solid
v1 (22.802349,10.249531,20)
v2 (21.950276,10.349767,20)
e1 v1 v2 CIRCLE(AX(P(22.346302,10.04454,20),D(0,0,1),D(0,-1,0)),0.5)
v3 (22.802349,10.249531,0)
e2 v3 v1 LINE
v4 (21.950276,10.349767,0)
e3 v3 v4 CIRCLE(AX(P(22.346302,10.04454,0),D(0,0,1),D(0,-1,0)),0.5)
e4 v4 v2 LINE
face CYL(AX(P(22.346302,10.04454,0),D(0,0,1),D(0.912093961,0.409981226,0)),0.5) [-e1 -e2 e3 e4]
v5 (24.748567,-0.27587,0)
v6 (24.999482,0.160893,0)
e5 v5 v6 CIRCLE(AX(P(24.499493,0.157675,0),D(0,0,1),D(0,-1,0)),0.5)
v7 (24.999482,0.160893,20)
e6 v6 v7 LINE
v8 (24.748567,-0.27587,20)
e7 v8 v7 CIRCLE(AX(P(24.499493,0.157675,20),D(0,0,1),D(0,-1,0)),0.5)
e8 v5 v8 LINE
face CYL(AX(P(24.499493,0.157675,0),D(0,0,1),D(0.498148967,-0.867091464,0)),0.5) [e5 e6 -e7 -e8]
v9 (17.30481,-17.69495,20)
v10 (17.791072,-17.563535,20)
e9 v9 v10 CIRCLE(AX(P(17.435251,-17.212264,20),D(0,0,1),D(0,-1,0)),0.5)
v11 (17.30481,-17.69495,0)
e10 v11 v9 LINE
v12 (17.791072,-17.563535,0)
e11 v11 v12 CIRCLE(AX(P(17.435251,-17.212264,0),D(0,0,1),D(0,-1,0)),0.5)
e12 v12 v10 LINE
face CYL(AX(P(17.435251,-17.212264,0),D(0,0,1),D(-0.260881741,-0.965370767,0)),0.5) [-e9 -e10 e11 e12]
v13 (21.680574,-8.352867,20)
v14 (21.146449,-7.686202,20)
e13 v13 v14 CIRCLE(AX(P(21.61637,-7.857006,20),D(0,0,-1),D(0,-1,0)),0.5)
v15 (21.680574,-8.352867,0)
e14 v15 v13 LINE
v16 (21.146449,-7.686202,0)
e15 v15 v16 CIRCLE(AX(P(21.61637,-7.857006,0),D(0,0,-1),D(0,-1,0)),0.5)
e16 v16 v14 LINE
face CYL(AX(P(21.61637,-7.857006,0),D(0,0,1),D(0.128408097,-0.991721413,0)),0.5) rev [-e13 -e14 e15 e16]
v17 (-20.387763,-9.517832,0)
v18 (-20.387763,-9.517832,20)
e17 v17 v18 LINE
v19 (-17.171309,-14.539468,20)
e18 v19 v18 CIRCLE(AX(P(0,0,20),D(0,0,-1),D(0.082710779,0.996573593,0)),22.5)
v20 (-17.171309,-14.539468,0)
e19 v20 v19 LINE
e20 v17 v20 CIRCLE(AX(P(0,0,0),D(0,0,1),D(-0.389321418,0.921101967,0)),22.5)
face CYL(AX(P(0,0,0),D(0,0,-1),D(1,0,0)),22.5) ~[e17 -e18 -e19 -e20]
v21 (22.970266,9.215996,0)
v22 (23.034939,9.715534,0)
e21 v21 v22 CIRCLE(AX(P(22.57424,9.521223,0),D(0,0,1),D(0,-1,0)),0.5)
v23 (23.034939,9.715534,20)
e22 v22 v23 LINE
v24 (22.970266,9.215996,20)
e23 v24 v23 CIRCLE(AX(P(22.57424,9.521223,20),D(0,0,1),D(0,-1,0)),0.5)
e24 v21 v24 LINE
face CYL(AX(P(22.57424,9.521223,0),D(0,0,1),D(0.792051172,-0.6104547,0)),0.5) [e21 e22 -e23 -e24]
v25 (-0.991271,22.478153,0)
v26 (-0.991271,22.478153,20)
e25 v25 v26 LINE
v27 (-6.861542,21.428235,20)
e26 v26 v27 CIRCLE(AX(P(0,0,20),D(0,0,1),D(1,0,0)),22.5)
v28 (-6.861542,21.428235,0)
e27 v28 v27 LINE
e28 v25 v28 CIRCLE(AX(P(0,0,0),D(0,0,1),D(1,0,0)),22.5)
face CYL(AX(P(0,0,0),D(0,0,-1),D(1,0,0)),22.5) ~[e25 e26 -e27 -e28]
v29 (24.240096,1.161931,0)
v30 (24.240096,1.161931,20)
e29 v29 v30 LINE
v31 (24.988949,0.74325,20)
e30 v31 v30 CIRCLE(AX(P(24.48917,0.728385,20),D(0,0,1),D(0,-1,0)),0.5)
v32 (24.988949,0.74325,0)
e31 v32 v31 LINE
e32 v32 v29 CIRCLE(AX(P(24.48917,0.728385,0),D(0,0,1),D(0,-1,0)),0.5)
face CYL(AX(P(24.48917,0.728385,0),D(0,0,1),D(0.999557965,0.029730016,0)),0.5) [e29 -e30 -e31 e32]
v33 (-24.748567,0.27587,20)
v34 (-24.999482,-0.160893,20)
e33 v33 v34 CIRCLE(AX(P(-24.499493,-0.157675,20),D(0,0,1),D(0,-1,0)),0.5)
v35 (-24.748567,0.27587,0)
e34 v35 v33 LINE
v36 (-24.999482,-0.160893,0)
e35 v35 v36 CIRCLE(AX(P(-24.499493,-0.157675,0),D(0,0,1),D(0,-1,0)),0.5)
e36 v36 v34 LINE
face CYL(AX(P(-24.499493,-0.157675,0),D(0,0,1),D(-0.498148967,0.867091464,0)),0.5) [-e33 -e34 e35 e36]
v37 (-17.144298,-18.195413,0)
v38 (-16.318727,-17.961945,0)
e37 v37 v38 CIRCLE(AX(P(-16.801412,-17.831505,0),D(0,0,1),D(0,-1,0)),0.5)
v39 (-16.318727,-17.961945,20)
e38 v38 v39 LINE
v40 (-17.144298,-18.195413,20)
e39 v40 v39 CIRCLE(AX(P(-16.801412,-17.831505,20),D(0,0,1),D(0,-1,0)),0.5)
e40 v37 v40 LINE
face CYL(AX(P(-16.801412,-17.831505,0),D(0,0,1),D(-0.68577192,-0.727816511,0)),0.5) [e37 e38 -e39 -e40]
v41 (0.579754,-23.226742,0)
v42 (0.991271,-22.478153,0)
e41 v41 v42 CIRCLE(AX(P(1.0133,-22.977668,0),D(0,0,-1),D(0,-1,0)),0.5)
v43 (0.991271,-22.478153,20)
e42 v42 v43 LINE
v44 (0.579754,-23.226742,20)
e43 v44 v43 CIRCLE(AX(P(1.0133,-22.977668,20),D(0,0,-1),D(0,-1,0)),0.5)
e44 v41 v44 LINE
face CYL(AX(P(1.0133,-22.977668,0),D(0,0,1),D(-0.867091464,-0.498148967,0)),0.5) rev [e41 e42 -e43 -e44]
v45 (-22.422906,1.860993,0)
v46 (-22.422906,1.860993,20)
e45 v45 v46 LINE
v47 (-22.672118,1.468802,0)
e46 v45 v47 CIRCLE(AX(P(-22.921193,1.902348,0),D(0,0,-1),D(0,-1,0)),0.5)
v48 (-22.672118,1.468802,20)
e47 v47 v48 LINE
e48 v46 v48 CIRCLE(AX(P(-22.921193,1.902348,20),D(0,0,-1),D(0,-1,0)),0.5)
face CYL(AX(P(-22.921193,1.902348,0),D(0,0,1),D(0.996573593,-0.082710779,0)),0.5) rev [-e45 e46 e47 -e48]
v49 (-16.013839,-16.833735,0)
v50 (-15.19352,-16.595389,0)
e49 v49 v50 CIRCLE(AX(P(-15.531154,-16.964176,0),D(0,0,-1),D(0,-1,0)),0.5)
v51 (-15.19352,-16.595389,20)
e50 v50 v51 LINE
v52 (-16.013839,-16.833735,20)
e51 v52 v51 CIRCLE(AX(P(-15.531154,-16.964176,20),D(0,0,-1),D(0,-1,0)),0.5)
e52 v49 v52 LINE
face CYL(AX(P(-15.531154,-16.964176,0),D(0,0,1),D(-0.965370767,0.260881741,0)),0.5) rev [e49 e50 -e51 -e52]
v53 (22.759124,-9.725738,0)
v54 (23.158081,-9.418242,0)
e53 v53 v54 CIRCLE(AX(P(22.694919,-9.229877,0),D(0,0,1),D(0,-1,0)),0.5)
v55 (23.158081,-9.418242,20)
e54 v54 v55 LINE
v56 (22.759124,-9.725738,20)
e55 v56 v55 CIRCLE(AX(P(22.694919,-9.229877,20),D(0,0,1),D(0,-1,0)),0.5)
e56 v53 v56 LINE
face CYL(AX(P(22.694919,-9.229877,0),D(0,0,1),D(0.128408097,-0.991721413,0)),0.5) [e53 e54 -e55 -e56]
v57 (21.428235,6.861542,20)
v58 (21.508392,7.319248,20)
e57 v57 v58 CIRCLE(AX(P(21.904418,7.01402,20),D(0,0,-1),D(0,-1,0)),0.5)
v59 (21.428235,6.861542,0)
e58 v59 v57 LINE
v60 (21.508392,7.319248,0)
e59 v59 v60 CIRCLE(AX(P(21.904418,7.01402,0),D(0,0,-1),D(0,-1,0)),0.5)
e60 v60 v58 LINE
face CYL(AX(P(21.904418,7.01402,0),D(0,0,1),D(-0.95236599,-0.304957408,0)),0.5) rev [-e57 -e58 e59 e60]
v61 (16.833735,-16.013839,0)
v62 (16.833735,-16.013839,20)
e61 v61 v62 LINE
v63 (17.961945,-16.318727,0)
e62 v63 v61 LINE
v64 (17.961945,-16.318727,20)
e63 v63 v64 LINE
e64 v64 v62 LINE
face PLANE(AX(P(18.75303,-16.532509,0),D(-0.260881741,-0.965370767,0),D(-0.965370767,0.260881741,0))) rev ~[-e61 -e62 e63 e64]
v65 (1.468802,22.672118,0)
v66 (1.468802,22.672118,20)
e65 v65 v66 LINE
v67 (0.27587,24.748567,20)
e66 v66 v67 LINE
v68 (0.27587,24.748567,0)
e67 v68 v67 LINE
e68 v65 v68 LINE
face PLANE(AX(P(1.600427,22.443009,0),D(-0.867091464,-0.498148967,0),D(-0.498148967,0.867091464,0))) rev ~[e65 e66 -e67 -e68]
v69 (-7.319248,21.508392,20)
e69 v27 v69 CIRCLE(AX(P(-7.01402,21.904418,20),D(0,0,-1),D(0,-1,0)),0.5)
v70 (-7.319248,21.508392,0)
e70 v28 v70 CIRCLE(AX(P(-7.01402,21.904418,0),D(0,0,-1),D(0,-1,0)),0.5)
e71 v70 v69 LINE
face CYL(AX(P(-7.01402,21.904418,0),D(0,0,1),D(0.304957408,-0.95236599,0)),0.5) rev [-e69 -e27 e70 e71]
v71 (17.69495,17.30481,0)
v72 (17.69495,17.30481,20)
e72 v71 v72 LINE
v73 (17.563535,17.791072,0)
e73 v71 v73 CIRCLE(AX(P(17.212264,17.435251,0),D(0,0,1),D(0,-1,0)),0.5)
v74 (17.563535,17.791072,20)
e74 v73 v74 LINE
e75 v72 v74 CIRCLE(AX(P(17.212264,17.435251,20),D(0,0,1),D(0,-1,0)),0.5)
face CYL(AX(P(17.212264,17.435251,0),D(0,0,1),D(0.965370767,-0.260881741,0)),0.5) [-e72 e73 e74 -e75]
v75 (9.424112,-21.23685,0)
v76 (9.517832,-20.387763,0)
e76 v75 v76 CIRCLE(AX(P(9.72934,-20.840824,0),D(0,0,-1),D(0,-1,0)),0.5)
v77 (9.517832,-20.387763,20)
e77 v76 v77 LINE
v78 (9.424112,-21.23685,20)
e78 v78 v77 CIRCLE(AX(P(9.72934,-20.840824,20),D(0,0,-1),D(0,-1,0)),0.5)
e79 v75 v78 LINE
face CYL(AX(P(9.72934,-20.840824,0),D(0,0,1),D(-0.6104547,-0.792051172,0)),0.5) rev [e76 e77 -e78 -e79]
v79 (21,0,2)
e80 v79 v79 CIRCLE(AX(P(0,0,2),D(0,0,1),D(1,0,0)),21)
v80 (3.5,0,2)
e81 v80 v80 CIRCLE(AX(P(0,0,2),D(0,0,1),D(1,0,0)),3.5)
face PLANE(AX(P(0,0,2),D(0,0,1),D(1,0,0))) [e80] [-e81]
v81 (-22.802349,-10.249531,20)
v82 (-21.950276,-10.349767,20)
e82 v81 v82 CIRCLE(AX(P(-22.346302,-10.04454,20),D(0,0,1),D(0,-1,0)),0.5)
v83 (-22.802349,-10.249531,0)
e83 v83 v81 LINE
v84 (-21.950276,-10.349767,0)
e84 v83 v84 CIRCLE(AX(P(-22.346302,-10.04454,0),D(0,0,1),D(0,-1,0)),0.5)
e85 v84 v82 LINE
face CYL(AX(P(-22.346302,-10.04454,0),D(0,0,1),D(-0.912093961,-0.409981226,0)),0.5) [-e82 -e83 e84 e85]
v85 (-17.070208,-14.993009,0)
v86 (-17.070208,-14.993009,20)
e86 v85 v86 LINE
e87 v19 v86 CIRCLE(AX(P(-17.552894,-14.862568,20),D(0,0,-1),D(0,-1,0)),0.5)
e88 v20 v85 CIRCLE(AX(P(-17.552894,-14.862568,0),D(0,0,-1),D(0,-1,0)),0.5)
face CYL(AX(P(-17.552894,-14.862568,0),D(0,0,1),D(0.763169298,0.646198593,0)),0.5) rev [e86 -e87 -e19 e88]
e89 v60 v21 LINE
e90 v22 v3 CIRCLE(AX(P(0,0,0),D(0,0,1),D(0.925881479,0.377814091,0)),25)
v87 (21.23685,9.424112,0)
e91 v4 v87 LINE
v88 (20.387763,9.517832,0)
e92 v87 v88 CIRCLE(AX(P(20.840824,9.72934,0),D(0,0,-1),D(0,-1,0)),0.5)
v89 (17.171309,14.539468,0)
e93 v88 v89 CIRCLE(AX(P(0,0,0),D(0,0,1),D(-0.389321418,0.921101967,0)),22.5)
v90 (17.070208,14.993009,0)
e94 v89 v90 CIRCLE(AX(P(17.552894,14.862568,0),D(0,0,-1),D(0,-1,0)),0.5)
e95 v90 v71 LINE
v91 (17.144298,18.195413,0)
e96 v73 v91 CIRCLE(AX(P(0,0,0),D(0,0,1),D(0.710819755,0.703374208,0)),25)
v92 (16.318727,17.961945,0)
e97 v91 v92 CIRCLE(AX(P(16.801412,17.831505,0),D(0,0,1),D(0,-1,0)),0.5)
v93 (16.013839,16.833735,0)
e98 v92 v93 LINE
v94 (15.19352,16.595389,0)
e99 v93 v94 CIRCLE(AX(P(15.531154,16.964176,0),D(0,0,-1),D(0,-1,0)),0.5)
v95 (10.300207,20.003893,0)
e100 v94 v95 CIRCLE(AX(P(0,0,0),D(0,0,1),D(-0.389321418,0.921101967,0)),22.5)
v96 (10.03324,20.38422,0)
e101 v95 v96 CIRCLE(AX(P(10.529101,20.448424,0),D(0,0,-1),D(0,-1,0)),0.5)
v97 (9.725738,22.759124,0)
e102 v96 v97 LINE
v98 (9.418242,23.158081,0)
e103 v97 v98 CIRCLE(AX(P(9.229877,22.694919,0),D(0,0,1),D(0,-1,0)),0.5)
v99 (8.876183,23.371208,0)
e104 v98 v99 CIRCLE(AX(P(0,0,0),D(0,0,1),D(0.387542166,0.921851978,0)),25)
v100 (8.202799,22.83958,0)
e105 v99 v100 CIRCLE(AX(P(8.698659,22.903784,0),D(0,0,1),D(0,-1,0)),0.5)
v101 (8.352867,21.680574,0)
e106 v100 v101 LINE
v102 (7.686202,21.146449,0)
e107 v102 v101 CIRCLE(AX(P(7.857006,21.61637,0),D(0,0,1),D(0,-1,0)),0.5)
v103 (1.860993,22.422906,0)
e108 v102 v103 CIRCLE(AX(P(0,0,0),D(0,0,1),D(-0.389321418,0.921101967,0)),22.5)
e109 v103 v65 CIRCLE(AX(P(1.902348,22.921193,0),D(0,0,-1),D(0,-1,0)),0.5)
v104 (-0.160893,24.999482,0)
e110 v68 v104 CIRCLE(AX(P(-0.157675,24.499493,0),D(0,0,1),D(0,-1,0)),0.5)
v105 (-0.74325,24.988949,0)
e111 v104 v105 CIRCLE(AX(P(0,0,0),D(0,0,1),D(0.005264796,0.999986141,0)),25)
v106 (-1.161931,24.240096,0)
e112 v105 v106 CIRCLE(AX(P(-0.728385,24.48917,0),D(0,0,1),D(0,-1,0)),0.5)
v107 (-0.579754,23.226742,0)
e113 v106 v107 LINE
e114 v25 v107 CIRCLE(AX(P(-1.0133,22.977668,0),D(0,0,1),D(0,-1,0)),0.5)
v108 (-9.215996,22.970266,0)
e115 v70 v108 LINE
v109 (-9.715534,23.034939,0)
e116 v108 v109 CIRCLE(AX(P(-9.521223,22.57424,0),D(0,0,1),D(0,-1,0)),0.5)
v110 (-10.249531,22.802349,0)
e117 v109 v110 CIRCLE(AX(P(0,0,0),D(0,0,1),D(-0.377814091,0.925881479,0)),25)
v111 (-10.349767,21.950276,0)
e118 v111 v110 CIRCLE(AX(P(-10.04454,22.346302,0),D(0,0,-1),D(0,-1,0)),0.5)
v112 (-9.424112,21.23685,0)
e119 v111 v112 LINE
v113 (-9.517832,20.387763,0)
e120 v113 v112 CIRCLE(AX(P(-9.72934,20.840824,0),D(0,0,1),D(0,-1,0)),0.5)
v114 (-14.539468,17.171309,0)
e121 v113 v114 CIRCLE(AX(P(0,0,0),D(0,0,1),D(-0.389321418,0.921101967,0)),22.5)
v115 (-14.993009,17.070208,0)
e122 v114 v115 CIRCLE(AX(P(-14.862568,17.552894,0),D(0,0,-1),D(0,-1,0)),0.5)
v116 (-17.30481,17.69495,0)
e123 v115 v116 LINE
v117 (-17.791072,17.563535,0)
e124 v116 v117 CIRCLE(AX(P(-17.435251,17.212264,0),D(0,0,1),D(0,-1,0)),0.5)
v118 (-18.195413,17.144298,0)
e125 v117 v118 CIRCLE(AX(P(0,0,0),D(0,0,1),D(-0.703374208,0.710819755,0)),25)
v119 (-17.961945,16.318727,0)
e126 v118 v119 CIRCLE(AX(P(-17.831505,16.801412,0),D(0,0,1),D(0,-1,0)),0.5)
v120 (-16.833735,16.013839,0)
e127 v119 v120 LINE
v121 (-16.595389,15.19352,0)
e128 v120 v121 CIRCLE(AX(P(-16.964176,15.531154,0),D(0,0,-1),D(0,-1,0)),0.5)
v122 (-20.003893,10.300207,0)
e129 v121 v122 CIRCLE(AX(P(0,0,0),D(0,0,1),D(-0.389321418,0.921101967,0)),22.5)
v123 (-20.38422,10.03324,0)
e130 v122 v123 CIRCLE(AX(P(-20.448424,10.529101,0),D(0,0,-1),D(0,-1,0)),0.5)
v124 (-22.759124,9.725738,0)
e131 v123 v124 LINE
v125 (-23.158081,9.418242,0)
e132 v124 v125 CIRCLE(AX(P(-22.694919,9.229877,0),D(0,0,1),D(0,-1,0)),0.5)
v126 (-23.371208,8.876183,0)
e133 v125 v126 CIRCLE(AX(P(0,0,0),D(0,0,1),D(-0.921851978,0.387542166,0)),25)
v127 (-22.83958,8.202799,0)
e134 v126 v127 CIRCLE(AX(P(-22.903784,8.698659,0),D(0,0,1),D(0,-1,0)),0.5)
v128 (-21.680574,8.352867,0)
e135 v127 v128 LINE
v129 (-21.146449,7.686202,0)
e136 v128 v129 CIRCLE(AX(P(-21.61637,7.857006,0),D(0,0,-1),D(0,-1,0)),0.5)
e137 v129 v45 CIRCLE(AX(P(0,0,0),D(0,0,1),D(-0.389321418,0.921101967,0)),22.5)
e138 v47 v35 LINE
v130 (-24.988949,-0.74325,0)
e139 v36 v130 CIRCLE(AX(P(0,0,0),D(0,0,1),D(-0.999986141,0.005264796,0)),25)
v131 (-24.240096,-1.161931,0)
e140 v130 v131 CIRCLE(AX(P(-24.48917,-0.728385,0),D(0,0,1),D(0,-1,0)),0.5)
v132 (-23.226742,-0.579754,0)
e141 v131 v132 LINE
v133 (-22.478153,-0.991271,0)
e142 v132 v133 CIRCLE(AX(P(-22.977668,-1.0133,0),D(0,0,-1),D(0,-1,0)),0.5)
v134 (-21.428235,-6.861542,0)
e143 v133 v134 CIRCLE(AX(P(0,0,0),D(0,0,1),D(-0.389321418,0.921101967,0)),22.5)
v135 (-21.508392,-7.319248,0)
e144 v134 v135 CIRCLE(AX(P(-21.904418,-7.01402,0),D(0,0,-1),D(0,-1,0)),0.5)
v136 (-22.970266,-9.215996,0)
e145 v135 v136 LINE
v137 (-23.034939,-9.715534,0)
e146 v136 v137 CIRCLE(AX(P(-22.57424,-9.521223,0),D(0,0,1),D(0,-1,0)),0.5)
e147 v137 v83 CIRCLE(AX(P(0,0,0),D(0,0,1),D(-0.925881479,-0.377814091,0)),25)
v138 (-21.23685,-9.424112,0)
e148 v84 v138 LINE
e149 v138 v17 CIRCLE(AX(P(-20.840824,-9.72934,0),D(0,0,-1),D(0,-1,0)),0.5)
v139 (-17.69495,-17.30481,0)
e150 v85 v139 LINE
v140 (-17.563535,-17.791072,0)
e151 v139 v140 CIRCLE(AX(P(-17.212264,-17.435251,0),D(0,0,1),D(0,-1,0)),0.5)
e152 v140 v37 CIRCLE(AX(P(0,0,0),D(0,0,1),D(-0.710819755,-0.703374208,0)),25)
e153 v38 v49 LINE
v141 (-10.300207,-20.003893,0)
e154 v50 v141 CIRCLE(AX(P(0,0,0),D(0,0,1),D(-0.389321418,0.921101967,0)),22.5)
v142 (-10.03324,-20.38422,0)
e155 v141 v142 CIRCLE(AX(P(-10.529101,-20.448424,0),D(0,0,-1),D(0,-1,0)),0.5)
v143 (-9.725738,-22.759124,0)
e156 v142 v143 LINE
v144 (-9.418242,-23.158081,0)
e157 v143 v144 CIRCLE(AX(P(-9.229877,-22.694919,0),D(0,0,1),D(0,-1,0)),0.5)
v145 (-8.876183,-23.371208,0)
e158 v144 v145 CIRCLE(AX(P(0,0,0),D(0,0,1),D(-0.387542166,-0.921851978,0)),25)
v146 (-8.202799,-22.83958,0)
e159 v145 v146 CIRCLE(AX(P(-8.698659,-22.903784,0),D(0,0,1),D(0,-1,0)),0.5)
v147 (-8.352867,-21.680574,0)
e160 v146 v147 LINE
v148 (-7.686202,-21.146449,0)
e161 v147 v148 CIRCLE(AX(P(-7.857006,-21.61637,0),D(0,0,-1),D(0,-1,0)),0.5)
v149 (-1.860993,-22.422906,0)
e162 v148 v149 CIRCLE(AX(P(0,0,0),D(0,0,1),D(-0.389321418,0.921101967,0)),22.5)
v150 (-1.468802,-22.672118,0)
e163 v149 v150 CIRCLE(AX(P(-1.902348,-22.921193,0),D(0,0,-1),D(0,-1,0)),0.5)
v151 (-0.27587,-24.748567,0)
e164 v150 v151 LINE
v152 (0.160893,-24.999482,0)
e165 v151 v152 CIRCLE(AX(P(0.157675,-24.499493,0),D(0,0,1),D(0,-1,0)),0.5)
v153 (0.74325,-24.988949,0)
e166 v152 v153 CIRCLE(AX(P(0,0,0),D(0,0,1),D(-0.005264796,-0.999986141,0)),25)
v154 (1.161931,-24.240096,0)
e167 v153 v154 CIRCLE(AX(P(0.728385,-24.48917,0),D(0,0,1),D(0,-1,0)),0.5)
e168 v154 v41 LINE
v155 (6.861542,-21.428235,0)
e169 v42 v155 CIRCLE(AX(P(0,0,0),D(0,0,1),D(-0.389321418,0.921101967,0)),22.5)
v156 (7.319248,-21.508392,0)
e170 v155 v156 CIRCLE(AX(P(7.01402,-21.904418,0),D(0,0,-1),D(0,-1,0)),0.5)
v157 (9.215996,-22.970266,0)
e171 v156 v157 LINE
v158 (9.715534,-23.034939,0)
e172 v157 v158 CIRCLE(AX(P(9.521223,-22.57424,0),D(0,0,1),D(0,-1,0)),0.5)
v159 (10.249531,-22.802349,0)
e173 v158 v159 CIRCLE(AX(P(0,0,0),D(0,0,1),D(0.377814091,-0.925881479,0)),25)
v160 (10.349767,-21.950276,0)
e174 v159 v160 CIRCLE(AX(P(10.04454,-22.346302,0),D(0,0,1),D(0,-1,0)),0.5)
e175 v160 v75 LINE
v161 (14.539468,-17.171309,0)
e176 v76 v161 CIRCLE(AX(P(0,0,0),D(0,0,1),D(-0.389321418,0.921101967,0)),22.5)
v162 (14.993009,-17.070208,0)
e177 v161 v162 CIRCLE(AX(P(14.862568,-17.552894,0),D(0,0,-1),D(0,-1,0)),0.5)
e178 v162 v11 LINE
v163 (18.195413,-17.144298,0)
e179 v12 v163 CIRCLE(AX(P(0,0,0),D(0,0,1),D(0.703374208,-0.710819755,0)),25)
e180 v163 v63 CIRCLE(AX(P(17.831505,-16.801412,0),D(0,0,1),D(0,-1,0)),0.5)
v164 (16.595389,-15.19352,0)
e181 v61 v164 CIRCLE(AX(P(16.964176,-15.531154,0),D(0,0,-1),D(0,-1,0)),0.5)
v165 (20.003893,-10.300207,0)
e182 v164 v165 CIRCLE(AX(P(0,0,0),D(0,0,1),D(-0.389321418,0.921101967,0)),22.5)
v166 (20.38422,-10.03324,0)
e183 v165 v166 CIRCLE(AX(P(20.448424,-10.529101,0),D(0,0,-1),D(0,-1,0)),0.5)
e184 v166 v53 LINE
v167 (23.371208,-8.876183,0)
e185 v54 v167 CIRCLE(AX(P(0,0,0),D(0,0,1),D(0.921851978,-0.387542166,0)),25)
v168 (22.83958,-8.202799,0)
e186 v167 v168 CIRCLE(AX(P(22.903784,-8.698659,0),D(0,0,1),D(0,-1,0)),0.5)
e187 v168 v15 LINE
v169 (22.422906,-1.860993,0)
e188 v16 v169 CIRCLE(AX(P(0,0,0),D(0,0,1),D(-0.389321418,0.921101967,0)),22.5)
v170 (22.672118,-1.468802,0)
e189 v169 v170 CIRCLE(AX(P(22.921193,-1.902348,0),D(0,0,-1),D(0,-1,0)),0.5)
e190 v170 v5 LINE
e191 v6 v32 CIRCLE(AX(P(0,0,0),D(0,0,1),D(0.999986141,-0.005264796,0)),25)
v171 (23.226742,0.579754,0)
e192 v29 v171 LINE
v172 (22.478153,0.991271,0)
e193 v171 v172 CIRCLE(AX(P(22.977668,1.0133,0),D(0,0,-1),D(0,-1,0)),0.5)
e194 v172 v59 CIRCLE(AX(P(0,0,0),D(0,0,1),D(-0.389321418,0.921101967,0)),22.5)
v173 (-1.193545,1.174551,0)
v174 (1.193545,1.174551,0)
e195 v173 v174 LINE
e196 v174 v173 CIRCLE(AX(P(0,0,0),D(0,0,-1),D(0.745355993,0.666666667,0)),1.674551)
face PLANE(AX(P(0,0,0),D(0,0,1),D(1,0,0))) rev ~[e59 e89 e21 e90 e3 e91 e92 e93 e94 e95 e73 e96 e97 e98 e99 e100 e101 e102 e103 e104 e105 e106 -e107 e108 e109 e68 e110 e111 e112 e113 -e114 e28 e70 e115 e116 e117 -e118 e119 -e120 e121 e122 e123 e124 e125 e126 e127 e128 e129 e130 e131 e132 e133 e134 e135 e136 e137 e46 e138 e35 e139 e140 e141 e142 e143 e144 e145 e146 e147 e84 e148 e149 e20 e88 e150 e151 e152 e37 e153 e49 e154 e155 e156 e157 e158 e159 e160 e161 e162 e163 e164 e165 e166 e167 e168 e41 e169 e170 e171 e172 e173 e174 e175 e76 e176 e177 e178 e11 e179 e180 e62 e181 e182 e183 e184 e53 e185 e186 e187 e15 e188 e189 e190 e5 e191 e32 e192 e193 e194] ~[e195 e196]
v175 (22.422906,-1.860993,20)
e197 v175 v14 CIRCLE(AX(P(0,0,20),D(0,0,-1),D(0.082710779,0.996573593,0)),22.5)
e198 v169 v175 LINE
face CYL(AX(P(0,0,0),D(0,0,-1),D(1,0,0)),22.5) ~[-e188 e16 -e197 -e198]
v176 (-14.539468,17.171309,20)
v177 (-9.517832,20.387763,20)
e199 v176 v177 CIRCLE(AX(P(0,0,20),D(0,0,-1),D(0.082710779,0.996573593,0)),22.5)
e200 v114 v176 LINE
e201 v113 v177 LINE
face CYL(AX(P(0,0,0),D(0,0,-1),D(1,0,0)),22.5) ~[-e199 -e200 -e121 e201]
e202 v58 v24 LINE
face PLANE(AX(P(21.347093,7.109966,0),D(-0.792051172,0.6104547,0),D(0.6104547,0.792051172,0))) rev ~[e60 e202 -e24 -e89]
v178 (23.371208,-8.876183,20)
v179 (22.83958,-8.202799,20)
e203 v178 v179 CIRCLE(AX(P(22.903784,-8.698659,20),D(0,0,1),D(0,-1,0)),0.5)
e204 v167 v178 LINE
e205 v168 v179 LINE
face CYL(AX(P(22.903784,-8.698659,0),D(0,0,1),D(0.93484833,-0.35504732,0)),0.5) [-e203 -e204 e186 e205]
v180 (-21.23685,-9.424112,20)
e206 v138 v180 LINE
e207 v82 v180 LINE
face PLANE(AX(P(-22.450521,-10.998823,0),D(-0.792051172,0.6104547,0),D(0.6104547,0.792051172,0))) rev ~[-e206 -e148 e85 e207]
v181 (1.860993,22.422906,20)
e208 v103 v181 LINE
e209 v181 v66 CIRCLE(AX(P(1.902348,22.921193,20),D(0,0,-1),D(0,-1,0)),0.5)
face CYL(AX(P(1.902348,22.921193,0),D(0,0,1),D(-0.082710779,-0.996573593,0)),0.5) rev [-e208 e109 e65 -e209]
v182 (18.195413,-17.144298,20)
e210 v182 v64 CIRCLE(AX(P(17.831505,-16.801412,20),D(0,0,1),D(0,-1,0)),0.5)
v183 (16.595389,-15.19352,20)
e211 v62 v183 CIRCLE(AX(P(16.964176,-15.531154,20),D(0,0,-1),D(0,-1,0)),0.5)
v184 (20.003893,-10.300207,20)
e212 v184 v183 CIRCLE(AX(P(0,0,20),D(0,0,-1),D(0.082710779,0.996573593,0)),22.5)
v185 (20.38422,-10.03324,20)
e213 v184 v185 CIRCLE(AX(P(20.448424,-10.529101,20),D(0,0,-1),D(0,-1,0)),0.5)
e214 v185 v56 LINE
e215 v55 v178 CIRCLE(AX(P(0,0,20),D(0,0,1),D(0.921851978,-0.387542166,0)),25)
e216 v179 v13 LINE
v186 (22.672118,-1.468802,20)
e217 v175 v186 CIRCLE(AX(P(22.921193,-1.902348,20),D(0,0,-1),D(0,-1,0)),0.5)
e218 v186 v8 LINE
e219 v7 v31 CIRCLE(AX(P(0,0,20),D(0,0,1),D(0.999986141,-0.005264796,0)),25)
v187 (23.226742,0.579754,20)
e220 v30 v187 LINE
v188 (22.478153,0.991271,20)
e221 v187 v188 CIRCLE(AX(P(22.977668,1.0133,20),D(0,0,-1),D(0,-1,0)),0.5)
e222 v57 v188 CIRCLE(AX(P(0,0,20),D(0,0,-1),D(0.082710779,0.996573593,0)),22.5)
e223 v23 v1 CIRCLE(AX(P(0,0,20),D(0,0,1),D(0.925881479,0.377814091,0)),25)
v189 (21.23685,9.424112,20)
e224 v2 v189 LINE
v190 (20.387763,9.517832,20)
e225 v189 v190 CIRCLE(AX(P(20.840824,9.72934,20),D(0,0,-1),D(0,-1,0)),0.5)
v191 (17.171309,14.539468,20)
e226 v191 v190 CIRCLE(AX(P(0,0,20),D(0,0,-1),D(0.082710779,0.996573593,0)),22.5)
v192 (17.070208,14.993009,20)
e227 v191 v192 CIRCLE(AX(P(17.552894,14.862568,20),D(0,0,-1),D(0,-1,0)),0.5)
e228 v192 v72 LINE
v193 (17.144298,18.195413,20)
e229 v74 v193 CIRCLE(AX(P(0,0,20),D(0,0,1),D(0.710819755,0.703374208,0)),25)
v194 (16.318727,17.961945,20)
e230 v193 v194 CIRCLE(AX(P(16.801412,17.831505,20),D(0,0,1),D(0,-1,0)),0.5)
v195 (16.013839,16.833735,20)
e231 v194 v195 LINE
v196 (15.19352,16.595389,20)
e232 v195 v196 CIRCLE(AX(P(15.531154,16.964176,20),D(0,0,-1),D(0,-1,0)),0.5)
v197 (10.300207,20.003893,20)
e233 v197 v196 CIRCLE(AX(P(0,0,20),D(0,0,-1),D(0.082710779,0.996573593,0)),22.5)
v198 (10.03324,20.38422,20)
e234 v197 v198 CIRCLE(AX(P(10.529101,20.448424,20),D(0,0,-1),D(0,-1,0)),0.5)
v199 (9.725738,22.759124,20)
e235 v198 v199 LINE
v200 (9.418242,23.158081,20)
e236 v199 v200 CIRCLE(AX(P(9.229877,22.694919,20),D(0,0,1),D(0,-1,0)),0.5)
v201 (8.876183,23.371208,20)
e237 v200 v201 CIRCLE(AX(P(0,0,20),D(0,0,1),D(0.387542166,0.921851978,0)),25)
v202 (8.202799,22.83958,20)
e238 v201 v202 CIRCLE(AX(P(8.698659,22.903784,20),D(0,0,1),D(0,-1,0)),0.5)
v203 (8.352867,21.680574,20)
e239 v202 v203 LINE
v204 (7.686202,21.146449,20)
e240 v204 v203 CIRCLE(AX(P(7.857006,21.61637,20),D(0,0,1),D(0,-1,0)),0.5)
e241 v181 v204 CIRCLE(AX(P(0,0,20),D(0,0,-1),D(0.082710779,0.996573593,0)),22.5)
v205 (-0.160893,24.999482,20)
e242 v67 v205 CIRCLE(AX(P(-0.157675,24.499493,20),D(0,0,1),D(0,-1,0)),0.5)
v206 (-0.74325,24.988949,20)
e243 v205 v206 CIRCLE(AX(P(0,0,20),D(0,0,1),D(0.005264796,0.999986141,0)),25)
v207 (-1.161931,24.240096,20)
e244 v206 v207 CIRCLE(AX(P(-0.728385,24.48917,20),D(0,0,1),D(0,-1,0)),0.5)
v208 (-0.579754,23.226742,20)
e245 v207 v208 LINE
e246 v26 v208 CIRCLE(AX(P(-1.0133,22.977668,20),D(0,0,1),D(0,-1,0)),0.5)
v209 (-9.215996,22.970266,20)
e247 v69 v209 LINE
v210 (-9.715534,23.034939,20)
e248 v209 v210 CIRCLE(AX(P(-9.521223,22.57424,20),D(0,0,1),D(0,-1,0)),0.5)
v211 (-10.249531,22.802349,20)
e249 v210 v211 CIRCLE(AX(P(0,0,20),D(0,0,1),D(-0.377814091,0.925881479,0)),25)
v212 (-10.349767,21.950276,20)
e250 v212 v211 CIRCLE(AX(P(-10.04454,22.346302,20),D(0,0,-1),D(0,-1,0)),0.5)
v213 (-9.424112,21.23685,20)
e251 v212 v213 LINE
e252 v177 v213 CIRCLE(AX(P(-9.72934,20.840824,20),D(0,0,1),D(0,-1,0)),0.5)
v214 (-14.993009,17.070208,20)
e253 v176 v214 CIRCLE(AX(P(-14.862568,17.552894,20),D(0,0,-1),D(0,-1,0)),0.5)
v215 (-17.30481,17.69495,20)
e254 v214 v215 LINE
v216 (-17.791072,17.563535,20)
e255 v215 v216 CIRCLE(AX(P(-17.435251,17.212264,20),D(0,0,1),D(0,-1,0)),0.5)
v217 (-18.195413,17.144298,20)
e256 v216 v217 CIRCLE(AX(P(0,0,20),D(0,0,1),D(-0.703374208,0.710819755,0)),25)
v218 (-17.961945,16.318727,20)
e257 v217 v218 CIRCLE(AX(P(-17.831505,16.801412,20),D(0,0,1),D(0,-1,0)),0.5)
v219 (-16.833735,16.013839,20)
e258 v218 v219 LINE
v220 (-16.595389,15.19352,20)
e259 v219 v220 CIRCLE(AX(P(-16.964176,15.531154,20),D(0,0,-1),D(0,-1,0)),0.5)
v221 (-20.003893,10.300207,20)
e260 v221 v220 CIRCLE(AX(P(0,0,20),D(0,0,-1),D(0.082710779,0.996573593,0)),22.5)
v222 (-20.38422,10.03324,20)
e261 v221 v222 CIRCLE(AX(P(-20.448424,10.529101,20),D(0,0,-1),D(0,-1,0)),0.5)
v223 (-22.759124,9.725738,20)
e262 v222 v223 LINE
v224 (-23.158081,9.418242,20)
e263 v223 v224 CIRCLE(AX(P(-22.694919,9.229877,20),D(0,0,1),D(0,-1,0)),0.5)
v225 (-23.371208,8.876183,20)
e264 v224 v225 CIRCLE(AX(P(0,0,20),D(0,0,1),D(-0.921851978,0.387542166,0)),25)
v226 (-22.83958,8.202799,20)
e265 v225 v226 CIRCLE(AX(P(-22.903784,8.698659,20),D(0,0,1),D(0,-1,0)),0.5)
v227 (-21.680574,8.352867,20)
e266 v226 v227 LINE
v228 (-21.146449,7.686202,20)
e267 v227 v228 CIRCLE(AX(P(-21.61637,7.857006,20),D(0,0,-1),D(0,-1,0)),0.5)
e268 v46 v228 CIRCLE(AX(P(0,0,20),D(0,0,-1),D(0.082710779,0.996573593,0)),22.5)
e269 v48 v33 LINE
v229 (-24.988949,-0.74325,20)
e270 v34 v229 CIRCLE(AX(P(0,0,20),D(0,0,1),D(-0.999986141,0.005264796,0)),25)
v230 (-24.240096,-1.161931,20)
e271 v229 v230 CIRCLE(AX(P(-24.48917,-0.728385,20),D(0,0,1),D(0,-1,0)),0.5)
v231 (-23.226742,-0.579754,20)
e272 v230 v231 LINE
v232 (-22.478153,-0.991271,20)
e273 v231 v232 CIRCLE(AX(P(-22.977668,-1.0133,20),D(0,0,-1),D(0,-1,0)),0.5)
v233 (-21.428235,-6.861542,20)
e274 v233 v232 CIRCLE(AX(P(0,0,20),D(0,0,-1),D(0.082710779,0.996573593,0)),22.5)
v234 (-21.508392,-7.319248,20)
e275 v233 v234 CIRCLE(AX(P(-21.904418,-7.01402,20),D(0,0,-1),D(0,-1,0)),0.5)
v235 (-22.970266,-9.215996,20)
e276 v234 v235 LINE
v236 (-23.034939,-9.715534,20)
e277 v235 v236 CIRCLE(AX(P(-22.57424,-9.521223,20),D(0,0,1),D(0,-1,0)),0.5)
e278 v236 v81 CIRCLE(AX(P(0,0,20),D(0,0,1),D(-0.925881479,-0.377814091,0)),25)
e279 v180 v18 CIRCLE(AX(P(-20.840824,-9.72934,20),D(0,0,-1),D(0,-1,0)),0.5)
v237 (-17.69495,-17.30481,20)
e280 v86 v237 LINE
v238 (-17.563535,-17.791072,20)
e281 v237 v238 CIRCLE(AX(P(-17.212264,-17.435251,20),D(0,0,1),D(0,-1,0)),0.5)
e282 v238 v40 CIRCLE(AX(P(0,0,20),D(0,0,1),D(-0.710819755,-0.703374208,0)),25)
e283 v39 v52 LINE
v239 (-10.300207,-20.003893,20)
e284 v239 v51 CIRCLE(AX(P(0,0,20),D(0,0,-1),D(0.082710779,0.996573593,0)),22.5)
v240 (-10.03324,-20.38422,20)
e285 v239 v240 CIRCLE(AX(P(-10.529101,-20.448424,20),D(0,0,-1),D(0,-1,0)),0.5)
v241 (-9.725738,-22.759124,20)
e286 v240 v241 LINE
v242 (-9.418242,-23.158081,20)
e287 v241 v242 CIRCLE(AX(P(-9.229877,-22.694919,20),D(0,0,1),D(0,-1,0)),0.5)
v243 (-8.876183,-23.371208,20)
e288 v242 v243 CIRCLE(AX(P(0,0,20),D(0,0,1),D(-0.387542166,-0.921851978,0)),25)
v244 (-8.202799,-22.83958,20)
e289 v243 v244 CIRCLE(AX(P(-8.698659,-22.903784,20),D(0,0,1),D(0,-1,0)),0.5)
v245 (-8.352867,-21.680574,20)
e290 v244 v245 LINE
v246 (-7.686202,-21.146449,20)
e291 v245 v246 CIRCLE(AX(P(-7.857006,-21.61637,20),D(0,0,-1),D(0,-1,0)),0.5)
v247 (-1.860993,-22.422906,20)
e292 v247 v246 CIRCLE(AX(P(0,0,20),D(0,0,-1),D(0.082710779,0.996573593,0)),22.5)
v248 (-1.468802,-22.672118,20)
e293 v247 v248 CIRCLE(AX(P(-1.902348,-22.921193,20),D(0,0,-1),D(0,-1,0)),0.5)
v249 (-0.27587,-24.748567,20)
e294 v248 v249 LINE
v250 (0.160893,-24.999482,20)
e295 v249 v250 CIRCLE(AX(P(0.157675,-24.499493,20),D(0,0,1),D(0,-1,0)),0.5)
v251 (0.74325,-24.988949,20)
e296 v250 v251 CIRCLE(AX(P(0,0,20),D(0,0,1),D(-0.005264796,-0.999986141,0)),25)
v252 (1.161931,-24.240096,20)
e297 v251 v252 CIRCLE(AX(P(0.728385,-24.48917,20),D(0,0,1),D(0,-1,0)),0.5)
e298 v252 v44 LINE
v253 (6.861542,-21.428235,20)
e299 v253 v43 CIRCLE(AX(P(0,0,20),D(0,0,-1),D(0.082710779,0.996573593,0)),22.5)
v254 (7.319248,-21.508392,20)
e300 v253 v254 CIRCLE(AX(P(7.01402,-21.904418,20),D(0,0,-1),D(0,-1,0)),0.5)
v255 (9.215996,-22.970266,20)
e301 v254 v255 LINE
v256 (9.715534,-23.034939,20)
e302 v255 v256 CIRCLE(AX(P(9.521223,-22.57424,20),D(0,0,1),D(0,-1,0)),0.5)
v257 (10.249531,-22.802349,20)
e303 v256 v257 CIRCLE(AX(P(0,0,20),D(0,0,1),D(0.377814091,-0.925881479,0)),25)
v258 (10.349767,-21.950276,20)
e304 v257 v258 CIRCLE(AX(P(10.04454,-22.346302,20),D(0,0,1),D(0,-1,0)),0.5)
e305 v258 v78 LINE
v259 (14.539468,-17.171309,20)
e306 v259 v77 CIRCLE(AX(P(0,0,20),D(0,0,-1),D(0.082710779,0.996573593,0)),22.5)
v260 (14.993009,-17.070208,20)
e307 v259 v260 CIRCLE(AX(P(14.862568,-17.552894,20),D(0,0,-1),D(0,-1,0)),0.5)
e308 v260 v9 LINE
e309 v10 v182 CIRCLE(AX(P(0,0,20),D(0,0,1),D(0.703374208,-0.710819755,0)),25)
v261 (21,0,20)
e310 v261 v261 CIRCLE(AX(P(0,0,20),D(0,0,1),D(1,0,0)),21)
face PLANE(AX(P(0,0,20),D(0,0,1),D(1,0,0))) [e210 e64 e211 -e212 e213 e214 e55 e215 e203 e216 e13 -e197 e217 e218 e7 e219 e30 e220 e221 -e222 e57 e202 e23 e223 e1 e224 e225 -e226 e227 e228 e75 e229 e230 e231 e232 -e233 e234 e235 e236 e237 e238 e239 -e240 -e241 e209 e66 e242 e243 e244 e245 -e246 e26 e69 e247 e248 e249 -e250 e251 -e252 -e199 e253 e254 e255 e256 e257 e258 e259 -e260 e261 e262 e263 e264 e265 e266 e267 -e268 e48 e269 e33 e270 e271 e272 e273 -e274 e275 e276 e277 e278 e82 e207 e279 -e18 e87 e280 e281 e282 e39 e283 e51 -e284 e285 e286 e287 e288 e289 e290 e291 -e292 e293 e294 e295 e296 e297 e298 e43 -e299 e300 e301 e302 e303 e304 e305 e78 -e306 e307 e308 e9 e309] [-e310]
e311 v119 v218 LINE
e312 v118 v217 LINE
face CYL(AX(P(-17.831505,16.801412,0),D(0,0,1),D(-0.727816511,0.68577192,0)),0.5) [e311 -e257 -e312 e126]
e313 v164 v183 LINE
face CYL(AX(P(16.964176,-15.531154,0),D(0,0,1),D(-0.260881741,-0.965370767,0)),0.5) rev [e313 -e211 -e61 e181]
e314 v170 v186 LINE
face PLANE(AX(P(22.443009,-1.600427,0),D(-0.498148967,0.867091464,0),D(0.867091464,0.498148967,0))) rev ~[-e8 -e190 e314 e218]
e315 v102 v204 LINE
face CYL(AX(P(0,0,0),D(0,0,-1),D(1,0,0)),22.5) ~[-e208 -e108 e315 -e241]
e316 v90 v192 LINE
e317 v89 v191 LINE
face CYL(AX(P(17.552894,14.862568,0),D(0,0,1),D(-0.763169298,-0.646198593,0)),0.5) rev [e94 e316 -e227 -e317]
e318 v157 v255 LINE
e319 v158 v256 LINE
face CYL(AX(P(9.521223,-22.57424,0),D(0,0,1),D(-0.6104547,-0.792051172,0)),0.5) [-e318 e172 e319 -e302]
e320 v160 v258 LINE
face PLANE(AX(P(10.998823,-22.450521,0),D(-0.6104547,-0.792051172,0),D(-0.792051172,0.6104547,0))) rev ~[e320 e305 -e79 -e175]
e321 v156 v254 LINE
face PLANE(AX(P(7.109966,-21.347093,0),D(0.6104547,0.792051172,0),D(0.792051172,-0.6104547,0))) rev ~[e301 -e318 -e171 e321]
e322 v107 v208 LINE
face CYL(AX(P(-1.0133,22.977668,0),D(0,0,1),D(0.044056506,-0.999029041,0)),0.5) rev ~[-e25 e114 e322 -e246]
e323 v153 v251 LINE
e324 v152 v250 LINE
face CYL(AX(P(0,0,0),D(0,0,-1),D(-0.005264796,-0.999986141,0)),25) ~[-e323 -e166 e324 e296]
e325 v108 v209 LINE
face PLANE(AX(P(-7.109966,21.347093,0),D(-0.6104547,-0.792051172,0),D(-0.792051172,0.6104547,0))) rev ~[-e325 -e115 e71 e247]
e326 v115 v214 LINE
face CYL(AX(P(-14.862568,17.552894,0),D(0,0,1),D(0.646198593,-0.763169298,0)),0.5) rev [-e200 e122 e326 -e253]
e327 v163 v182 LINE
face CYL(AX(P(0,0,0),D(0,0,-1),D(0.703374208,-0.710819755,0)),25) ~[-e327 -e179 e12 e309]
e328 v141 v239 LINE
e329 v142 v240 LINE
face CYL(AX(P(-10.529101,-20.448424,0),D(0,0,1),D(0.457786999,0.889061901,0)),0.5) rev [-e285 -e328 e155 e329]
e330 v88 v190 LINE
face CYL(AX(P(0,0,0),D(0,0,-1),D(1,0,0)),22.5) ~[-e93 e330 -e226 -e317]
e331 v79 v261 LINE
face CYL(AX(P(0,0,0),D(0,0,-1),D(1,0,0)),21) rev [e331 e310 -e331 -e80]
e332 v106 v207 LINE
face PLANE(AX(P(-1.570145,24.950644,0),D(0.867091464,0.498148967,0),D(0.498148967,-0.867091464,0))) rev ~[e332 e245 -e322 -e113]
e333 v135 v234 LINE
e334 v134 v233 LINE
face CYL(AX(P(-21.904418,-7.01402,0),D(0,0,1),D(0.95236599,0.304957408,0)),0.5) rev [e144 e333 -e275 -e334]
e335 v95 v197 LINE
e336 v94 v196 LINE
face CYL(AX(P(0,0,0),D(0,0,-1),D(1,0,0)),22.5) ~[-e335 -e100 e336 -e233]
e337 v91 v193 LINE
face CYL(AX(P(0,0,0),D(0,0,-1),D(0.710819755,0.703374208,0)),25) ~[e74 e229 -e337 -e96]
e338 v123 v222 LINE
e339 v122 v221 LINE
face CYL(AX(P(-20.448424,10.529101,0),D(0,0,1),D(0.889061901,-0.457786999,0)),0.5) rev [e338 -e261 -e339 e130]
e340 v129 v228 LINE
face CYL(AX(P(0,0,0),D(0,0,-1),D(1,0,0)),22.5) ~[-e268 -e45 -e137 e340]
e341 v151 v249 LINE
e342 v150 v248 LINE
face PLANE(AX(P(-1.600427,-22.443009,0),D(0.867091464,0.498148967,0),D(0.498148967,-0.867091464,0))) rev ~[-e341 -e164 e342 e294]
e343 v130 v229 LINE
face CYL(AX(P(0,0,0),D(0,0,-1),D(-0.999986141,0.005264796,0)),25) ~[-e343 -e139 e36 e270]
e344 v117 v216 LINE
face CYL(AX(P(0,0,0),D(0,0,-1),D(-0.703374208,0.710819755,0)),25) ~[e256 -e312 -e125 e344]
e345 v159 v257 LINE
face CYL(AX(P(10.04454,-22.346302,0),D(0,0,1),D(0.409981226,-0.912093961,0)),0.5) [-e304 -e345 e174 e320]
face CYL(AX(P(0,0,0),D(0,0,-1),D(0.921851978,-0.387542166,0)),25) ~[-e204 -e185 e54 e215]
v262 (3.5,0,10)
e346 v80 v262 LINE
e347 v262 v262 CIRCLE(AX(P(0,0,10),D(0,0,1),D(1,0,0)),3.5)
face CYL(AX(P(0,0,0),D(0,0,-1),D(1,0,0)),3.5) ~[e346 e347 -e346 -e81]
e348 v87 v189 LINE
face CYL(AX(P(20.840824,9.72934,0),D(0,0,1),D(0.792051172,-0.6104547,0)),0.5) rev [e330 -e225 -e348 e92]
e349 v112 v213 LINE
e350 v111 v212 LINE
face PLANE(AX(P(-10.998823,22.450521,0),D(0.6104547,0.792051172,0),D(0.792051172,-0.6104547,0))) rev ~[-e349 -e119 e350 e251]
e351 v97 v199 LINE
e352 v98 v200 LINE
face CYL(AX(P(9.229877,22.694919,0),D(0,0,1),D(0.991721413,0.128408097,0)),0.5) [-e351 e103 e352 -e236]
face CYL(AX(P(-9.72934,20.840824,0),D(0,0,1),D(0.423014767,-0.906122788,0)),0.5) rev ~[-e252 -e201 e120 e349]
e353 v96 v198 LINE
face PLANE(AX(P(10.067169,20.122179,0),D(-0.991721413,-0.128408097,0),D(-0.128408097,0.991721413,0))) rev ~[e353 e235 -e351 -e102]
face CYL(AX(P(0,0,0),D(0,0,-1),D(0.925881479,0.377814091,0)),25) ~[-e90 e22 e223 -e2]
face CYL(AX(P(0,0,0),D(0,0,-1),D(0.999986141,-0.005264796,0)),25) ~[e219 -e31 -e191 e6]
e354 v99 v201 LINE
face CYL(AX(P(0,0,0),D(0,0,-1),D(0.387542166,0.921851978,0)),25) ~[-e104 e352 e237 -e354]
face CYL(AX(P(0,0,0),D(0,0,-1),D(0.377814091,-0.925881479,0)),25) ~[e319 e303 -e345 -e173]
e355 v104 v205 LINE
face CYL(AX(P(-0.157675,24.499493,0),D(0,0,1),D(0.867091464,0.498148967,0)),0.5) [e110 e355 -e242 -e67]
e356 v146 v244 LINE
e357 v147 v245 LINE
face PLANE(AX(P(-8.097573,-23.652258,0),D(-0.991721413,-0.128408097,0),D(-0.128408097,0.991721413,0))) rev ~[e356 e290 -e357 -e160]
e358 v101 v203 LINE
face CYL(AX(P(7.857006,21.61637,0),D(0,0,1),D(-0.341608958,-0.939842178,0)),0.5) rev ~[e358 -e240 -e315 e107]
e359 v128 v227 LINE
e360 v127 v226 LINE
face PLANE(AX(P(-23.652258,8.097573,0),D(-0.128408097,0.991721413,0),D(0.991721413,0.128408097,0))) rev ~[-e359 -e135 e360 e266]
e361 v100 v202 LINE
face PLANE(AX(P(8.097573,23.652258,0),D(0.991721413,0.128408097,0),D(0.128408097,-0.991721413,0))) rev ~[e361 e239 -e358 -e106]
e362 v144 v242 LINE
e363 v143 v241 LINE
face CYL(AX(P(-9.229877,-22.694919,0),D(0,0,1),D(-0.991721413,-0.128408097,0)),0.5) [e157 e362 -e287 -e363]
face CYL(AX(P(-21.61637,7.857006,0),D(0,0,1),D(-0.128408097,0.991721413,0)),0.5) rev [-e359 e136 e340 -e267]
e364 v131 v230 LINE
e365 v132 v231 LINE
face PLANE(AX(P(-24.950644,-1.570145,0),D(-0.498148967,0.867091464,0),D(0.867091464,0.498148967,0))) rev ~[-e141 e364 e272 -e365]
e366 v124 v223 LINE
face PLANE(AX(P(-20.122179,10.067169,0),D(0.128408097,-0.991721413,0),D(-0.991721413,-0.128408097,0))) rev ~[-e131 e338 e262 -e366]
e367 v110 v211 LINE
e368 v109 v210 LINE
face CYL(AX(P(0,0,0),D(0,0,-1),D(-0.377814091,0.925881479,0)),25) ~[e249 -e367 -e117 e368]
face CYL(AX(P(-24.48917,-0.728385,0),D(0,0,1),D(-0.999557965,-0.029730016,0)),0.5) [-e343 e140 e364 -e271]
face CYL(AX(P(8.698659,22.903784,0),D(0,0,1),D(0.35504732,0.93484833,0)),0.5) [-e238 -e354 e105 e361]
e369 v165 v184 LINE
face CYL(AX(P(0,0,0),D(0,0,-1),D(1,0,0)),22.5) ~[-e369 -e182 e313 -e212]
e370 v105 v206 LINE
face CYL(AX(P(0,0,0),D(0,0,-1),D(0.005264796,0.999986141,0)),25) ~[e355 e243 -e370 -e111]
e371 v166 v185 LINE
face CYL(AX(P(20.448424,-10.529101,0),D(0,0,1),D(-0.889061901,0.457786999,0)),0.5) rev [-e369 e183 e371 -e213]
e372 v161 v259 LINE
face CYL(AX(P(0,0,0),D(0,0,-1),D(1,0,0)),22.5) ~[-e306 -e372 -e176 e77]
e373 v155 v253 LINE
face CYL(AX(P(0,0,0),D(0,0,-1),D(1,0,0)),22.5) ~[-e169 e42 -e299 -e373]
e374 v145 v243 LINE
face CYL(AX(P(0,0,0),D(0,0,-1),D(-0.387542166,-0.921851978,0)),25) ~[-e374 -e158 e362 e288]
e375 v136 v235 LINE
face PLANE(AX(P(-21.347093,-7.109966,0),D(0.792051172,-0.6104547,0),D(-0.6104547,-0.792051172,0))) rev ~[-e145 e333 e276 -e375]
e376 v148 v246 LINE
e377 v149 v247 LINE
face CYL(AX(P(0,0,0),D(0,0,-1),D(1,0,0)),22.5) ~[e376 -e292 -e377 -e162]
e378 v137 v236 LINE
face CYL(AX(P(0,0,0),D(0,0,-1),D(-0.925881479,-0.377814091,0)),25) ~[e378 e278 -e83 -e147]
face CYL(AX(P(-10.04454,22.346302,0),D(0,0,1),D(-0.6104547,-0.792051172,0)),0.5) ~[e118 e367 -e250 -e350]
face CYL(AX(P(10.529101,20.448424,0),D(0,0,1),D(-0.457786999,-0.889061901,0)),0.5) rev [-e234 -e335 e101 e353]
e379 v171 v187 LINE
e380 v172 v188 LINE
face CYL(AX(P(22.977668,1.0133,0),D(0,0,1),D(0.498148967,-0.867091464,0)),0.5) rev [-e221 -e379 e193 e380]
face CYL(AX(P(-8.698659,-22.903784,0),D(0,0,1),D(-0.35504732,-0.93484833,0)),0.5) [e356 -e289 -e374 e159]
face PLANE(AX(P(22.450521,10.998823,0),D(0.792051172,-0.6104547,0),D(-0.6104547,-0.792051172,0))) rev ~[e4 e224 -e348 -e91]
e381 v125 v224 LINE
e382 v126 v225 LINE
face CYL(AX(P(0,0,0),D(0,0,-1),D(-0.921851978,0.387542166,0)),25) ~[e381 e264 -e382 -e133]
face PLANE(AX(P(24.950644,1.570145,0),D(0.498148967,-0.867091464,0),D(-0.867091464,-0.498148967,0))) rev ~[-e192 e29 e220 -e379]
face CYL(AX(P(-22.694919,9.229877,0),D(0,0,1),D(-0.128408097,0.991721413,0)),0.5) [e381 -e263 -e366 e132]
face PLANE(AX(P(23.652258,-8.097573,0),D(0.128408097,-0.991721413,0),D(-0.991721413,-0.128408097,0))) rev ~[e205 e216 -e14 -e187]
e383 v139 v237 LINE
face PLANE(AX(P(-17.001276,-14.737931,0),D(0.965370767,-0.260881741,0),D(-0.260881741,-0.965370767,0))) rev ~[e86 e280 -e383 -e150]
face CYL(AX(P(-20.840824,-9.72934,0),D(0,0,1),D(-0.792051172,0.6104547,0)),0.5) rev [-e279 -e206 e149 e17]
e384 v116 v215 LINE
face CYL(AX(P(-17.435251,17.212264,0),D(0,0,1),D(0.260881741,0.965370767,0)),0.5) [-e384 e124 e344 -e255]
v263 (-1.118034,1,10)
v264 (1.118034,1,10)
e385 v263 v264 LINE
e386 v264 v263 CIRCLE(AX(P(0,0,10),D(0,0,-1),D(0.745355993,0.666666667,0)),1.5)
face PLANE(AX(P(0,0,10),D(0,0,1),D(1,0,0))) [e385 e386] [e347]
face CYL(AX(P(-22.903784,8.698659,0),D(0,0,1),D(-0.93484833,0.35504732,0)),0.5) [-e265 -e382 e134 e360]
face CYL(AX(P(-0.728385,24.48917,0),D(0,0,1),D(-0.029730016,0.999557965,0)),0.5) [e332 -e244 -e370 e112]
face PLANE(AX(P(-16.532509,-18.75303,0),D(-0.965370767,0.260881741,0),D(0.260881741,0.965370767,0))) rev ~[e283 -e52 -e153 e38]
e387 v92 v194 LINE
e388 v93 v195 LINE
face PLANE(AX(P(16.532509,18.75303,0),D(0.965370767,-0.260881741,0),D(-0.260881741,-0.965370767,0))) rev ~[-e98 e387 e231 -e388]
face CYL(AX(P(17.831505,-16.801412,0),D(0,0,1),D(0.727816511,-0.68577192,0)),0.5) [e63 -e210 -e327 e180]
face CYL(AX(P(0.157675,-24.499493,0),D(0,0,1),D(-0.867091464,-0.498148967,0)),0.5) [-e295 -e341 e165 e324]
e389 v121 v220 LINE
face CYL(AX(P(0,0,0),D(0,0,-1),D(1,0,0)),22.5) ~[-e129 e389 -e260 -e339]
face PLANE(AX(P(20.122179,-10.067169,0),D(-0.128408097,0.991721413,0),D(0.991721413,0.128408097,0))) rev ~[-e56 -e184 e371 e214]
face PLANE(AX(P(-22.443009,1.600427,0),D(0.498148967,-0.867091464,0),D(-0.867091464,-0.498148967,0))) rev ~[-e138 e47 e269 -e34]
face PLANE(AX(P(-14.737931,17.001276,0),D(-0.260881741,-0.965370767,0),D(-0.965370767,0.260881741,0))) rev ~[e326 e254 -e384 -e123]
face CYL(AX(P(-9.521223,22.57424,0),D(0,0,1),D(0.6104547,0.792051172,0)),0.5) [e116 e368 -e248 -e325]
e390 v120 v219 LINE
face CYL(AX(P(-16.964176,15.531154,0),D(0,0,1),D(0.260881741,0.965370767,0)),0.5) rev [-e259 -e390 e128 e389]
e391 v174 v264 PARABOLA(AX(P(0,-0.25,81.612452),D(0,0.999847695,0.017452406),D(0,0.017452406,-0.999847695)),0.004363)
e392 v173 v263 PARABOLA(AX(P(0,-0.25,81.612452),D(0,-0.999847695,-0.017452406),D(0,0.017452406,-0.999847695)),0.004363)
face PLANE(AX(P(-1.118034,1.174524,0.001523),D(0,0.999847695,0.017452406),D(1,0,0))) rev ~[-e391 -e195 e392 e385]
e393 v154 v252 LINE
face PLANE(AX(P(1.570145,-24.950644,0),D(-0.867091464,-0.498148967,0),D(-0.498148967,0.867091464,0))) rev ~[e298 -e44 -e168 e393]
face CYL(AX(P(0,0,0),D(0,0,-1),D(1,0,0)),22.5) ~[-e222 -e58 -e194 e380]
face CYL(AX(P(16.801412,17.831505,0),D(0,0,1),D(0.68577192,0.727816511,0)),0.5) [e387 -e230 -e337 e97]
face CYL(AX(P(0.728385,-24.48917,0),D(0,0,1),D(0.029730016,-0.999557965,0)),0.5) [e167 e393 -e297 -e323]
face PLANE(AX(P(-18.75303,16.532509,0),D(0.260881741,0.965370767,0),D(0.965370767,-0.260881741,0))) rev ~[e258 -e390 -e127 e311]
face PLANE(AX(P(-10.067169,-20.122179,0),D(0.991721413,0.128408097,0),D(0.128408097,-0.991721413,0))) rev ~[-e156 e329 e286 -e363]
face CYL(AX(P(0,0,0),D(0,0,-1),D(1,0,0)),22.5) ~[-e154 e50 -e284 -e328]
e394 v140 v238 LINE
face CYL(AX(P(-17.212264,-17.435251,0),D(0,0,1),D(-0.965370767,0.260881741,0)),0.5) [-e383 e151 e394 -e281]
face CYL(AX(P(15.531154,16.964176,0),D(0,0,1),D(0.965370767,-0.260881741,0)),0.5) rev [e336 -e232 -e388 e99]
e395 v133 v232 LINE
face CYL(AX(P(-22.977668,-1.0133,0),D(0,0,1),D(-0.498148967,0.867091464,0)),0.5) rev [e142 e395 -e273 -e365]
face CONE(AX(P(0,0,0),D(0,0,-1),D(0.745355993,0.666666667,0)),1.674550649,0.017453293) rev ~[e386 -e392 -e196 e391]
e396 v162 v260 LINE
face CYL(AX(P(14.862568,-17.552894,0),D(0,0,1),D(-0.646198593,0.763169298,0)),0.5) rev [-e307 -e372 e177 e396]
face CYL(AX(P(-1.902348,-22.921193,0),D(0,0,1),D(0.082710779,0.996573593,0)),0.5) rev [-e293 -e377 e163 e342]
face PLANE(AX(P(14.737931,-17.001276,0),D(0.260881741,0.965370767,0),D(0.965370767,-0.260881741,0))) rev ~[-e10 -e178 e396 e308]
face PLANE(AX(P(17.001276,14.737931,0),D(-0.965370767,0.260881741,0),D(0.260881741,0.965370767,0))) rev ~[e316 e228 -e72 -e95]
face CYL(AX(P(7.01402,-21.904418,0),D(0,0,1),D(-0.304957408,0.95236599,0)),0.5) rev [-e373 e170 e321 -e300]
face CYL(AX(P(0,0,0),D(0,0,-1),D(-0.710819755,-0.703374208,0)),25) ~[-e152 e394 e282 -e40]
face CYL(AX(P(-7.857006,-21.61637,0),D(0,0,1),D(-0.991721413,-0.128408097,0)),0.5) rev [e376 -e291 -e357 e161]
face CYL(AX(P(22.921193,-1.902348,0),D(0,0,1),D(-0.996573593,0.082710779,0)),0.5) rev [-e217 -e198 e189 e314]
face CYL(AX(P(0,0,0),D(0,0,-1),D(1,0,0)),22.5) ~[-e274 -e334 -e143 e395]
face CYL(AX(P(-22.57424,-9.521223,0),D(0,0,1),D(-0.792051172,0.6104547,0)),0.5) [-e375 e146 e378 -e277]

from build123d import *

# Parameters (mm, degrees)
SKETCH1_R                = 21
SKETCH1_R_2              = 3.5
BOSS_EXTRUDE2_DEPTH      = 2
SKETCH1_4_R              = 22.5
SKETCH1_4_R_2            = 21
BOSS_EXTRUDE3_DEPTH      = 20
BOSS_EXTRUDE4_DEPTH      = 20
FILLET1_R                = 0.5
CIRPATTERN1_COUNT        = 16
FILLET1_OF_CIRPATTERN1_R = 0.5
SKETCH1_6_R              = 3.5
BOSS_EXTRUDE5_DEPTH      = 10
DRAFT1_ANGLE             = -1


with BuildPart() as part:
    # Sketch1 → Boss-Extrude2 (new body)
    with BuildSketch(Plane.XY):
        Circle(SKETCH1_R)
        Circle(SKETCH1_R_2, mode=Mode.SUBTRACT)
    extrude(amount=BOSS_EXTRUDE2_DEPTH)

    # Sketch1<4> → Boss-Extrude3 (add)
    with BuildSketch(Plane.XY):
        Circle(SKETCH1_4_R)
        Circle(SKETCH1_4_R_2, mode=Mode.SUBTRACT)
    extrude(amount=BOSS_EXTRUDE3_DEPTH)

    # Sketch1<5> → Boss-Extrude4 (add)
    with BuildSketch(Plane.XY):
        with BuildLine():
            ThreePointArc((0.13161991, 24.999653522), (-0.719679971, 24.989639068), (-1.570145241, 24.950644158))
            Line((-1.570145241, 24.950644158), (-0.161901615, 22.499417501))
            ThreePointArc((-0.161901615, 22.499417501), (0.719815444, 22.488482957), (1.600426946, 22.443008568))
            Line((1.600426946, 22.443008568), (0.13161991, 24.999653522))
        make_face()
    boss_extrude4 = extrude(amount=BOSS_EXTRUDE4_DEPTH)

    # Fillet1
    fillet1_edges = [part.edges().sort_by_distance(p)[0] for p in [
        (-0.161901615, 22.499417501, 10),
        (1.600426946, 22.443008568, 10),
        (0.13161991, 24.999653522, 10),
        (-1.570145241, 24.950644158, 10),
    ]]
    fillet(fillet1_edges, radius=FILLET1_R)

    # CirPattern1: Boss-Extrude4 ×16 about axis
    cirpattern1_axis = Axis((0, 0, 0), (0, 0, 1))
    for i in range(1, CIRPATTERN1_COUNT):
        add(boss_extrude4.rotate(cirpattern1_axis, i * 360 / CIRPATTERN1_COUNT))

    # Fillet1 of CirPattern1
    fillet1_of_cirpattern1_edges = [part.edges().sort_by_distance(p)[0] for p in [
        (-8.759731904, 20.724794257, 10),
        (-7.109965853, 21.347093141, 10),
        (-9.445352276, 23.147036968, 10),
        (-10.998823198, 22.450520891, 10),
        (-16.023972417, 15.795008958, 10),
        (-14.737930803, 17.001276295, 10),
        (-17.584355201, 17.770493864, 10),
        (-18.753030027, 16.532509332, 10),
        (-20.848708388, 8.460576727, 10),
        (-20.122179387, 10.06716925, 10),
        (-23.046299449, 9.688554159, 10),
        (-23.652258031, 8.097573095, 10),
        (-22.499417501, -0.161901615, 10),
        (-22.443008568, 1.600426946, 10),
        (-24.999653522, 0.13161991, 10),
        (-24.950644158, -1.570145241, 10),
        (-20.724794257, -8.759731904, 10),
        (-21.347093141, -7.109965853, 10),
        (-23.147036968, -9.445352276, 10),
        (-22.450520891, -10.998823198, 10),
        (-15.795008958, -16.023972417, 10),
        (-17.001276295, -14.737930803, 10),
        (-17.770493864, -17.584355201, 10),
        (-16.532509332, -18.753030027, 10),
        (-8.460576727, -20.848708388, 10),
        (-10.06716925, -20.122179387, 10),
        (-9.688554159, -23.046299449, 10),
        (-8.097573095, -23.652258031, 10),
        (0.161901615, -22.499417501, 10),
        (-1.600426946, -22.443008568, 10),
        (-0.13161991, -24.999653522, 10),
        (1.570145241, -24.950644158, 10),
        (8.759731904, -20.724794257, 10),
        (7.109965853, -21.347093141, 10),
        (9.445352276, -23.147036968, 10),
        (10.998823198, -22.450520891, 10),
        (16.023972417, -15.795008958, 10),
        (14.737930803, -17.001276295, 10),
        (17.584355201, -17.770493864, 10),
        (18.753030027, -16.532509332, 10),
        (20.848708388, -8.460576727, 10),
        (20.122179387, -10.06716925, 10),
        (23.046299449, -9.688554159, 10),
        (23.652258031, -8.097573095, 10),
        (22.499417501, 0.161901615, 10),
        (22.443008568, -1.600426946, 10),
        (24.999653522, -0.13161991, 10),
        (24.950644158, 1.570145241, 10),
        (20.724794257, 8.759731904, 10),
        (21.347093141, 7.109965853, 10),
        (23.147036968, 9.445352276, 10),
        (22.450520891, 10.998823198, 10),
        (15.795008958, 16.023972417, 10),
        (17.001276295, 14.737930803, 10),
        (17.770493864, 17.584355201, 10),
        (16.532509332, 18.753030027, 10),
        (8.460576727, 20.848708388, 10),
        (10.06716925, 20.122179387, 10),
        (9.688554159, 23.046299449, 10),
        (8.097573095, 23.652258031, 10),
    ]]
    fillet(fillet1_of_cirpattern1_edges, radius=FILLET1_OF_CIRPATTERN1_R)

    # Sketch1<6> → Boss-Extrude5 (add)
    with BuildSketch(Plane.XY):
        Circle(SKETCH1_6_R)
        with BuildLine():
            Line((-1.118033989, 1), (1.118033989, 1))
            ThreePointArc((1.118033989, 1), (0, -1.5), (-1.118033989, 1))
        make_face(mode=Mode.SUBTRACT)
    extrude(amount=BOSS_EXTRUDE5_DEPTH)

    # Draft1
    draft1_faces = [part.faces().sort_by_distance(p)[0] for p in [
        (0, 1, 5),
        (0, -1.5, 5),
    ]]
    draft(draft1_faces, Plane.XY.offset(10), DRAFT1_ANGLE)


solid = part.part
